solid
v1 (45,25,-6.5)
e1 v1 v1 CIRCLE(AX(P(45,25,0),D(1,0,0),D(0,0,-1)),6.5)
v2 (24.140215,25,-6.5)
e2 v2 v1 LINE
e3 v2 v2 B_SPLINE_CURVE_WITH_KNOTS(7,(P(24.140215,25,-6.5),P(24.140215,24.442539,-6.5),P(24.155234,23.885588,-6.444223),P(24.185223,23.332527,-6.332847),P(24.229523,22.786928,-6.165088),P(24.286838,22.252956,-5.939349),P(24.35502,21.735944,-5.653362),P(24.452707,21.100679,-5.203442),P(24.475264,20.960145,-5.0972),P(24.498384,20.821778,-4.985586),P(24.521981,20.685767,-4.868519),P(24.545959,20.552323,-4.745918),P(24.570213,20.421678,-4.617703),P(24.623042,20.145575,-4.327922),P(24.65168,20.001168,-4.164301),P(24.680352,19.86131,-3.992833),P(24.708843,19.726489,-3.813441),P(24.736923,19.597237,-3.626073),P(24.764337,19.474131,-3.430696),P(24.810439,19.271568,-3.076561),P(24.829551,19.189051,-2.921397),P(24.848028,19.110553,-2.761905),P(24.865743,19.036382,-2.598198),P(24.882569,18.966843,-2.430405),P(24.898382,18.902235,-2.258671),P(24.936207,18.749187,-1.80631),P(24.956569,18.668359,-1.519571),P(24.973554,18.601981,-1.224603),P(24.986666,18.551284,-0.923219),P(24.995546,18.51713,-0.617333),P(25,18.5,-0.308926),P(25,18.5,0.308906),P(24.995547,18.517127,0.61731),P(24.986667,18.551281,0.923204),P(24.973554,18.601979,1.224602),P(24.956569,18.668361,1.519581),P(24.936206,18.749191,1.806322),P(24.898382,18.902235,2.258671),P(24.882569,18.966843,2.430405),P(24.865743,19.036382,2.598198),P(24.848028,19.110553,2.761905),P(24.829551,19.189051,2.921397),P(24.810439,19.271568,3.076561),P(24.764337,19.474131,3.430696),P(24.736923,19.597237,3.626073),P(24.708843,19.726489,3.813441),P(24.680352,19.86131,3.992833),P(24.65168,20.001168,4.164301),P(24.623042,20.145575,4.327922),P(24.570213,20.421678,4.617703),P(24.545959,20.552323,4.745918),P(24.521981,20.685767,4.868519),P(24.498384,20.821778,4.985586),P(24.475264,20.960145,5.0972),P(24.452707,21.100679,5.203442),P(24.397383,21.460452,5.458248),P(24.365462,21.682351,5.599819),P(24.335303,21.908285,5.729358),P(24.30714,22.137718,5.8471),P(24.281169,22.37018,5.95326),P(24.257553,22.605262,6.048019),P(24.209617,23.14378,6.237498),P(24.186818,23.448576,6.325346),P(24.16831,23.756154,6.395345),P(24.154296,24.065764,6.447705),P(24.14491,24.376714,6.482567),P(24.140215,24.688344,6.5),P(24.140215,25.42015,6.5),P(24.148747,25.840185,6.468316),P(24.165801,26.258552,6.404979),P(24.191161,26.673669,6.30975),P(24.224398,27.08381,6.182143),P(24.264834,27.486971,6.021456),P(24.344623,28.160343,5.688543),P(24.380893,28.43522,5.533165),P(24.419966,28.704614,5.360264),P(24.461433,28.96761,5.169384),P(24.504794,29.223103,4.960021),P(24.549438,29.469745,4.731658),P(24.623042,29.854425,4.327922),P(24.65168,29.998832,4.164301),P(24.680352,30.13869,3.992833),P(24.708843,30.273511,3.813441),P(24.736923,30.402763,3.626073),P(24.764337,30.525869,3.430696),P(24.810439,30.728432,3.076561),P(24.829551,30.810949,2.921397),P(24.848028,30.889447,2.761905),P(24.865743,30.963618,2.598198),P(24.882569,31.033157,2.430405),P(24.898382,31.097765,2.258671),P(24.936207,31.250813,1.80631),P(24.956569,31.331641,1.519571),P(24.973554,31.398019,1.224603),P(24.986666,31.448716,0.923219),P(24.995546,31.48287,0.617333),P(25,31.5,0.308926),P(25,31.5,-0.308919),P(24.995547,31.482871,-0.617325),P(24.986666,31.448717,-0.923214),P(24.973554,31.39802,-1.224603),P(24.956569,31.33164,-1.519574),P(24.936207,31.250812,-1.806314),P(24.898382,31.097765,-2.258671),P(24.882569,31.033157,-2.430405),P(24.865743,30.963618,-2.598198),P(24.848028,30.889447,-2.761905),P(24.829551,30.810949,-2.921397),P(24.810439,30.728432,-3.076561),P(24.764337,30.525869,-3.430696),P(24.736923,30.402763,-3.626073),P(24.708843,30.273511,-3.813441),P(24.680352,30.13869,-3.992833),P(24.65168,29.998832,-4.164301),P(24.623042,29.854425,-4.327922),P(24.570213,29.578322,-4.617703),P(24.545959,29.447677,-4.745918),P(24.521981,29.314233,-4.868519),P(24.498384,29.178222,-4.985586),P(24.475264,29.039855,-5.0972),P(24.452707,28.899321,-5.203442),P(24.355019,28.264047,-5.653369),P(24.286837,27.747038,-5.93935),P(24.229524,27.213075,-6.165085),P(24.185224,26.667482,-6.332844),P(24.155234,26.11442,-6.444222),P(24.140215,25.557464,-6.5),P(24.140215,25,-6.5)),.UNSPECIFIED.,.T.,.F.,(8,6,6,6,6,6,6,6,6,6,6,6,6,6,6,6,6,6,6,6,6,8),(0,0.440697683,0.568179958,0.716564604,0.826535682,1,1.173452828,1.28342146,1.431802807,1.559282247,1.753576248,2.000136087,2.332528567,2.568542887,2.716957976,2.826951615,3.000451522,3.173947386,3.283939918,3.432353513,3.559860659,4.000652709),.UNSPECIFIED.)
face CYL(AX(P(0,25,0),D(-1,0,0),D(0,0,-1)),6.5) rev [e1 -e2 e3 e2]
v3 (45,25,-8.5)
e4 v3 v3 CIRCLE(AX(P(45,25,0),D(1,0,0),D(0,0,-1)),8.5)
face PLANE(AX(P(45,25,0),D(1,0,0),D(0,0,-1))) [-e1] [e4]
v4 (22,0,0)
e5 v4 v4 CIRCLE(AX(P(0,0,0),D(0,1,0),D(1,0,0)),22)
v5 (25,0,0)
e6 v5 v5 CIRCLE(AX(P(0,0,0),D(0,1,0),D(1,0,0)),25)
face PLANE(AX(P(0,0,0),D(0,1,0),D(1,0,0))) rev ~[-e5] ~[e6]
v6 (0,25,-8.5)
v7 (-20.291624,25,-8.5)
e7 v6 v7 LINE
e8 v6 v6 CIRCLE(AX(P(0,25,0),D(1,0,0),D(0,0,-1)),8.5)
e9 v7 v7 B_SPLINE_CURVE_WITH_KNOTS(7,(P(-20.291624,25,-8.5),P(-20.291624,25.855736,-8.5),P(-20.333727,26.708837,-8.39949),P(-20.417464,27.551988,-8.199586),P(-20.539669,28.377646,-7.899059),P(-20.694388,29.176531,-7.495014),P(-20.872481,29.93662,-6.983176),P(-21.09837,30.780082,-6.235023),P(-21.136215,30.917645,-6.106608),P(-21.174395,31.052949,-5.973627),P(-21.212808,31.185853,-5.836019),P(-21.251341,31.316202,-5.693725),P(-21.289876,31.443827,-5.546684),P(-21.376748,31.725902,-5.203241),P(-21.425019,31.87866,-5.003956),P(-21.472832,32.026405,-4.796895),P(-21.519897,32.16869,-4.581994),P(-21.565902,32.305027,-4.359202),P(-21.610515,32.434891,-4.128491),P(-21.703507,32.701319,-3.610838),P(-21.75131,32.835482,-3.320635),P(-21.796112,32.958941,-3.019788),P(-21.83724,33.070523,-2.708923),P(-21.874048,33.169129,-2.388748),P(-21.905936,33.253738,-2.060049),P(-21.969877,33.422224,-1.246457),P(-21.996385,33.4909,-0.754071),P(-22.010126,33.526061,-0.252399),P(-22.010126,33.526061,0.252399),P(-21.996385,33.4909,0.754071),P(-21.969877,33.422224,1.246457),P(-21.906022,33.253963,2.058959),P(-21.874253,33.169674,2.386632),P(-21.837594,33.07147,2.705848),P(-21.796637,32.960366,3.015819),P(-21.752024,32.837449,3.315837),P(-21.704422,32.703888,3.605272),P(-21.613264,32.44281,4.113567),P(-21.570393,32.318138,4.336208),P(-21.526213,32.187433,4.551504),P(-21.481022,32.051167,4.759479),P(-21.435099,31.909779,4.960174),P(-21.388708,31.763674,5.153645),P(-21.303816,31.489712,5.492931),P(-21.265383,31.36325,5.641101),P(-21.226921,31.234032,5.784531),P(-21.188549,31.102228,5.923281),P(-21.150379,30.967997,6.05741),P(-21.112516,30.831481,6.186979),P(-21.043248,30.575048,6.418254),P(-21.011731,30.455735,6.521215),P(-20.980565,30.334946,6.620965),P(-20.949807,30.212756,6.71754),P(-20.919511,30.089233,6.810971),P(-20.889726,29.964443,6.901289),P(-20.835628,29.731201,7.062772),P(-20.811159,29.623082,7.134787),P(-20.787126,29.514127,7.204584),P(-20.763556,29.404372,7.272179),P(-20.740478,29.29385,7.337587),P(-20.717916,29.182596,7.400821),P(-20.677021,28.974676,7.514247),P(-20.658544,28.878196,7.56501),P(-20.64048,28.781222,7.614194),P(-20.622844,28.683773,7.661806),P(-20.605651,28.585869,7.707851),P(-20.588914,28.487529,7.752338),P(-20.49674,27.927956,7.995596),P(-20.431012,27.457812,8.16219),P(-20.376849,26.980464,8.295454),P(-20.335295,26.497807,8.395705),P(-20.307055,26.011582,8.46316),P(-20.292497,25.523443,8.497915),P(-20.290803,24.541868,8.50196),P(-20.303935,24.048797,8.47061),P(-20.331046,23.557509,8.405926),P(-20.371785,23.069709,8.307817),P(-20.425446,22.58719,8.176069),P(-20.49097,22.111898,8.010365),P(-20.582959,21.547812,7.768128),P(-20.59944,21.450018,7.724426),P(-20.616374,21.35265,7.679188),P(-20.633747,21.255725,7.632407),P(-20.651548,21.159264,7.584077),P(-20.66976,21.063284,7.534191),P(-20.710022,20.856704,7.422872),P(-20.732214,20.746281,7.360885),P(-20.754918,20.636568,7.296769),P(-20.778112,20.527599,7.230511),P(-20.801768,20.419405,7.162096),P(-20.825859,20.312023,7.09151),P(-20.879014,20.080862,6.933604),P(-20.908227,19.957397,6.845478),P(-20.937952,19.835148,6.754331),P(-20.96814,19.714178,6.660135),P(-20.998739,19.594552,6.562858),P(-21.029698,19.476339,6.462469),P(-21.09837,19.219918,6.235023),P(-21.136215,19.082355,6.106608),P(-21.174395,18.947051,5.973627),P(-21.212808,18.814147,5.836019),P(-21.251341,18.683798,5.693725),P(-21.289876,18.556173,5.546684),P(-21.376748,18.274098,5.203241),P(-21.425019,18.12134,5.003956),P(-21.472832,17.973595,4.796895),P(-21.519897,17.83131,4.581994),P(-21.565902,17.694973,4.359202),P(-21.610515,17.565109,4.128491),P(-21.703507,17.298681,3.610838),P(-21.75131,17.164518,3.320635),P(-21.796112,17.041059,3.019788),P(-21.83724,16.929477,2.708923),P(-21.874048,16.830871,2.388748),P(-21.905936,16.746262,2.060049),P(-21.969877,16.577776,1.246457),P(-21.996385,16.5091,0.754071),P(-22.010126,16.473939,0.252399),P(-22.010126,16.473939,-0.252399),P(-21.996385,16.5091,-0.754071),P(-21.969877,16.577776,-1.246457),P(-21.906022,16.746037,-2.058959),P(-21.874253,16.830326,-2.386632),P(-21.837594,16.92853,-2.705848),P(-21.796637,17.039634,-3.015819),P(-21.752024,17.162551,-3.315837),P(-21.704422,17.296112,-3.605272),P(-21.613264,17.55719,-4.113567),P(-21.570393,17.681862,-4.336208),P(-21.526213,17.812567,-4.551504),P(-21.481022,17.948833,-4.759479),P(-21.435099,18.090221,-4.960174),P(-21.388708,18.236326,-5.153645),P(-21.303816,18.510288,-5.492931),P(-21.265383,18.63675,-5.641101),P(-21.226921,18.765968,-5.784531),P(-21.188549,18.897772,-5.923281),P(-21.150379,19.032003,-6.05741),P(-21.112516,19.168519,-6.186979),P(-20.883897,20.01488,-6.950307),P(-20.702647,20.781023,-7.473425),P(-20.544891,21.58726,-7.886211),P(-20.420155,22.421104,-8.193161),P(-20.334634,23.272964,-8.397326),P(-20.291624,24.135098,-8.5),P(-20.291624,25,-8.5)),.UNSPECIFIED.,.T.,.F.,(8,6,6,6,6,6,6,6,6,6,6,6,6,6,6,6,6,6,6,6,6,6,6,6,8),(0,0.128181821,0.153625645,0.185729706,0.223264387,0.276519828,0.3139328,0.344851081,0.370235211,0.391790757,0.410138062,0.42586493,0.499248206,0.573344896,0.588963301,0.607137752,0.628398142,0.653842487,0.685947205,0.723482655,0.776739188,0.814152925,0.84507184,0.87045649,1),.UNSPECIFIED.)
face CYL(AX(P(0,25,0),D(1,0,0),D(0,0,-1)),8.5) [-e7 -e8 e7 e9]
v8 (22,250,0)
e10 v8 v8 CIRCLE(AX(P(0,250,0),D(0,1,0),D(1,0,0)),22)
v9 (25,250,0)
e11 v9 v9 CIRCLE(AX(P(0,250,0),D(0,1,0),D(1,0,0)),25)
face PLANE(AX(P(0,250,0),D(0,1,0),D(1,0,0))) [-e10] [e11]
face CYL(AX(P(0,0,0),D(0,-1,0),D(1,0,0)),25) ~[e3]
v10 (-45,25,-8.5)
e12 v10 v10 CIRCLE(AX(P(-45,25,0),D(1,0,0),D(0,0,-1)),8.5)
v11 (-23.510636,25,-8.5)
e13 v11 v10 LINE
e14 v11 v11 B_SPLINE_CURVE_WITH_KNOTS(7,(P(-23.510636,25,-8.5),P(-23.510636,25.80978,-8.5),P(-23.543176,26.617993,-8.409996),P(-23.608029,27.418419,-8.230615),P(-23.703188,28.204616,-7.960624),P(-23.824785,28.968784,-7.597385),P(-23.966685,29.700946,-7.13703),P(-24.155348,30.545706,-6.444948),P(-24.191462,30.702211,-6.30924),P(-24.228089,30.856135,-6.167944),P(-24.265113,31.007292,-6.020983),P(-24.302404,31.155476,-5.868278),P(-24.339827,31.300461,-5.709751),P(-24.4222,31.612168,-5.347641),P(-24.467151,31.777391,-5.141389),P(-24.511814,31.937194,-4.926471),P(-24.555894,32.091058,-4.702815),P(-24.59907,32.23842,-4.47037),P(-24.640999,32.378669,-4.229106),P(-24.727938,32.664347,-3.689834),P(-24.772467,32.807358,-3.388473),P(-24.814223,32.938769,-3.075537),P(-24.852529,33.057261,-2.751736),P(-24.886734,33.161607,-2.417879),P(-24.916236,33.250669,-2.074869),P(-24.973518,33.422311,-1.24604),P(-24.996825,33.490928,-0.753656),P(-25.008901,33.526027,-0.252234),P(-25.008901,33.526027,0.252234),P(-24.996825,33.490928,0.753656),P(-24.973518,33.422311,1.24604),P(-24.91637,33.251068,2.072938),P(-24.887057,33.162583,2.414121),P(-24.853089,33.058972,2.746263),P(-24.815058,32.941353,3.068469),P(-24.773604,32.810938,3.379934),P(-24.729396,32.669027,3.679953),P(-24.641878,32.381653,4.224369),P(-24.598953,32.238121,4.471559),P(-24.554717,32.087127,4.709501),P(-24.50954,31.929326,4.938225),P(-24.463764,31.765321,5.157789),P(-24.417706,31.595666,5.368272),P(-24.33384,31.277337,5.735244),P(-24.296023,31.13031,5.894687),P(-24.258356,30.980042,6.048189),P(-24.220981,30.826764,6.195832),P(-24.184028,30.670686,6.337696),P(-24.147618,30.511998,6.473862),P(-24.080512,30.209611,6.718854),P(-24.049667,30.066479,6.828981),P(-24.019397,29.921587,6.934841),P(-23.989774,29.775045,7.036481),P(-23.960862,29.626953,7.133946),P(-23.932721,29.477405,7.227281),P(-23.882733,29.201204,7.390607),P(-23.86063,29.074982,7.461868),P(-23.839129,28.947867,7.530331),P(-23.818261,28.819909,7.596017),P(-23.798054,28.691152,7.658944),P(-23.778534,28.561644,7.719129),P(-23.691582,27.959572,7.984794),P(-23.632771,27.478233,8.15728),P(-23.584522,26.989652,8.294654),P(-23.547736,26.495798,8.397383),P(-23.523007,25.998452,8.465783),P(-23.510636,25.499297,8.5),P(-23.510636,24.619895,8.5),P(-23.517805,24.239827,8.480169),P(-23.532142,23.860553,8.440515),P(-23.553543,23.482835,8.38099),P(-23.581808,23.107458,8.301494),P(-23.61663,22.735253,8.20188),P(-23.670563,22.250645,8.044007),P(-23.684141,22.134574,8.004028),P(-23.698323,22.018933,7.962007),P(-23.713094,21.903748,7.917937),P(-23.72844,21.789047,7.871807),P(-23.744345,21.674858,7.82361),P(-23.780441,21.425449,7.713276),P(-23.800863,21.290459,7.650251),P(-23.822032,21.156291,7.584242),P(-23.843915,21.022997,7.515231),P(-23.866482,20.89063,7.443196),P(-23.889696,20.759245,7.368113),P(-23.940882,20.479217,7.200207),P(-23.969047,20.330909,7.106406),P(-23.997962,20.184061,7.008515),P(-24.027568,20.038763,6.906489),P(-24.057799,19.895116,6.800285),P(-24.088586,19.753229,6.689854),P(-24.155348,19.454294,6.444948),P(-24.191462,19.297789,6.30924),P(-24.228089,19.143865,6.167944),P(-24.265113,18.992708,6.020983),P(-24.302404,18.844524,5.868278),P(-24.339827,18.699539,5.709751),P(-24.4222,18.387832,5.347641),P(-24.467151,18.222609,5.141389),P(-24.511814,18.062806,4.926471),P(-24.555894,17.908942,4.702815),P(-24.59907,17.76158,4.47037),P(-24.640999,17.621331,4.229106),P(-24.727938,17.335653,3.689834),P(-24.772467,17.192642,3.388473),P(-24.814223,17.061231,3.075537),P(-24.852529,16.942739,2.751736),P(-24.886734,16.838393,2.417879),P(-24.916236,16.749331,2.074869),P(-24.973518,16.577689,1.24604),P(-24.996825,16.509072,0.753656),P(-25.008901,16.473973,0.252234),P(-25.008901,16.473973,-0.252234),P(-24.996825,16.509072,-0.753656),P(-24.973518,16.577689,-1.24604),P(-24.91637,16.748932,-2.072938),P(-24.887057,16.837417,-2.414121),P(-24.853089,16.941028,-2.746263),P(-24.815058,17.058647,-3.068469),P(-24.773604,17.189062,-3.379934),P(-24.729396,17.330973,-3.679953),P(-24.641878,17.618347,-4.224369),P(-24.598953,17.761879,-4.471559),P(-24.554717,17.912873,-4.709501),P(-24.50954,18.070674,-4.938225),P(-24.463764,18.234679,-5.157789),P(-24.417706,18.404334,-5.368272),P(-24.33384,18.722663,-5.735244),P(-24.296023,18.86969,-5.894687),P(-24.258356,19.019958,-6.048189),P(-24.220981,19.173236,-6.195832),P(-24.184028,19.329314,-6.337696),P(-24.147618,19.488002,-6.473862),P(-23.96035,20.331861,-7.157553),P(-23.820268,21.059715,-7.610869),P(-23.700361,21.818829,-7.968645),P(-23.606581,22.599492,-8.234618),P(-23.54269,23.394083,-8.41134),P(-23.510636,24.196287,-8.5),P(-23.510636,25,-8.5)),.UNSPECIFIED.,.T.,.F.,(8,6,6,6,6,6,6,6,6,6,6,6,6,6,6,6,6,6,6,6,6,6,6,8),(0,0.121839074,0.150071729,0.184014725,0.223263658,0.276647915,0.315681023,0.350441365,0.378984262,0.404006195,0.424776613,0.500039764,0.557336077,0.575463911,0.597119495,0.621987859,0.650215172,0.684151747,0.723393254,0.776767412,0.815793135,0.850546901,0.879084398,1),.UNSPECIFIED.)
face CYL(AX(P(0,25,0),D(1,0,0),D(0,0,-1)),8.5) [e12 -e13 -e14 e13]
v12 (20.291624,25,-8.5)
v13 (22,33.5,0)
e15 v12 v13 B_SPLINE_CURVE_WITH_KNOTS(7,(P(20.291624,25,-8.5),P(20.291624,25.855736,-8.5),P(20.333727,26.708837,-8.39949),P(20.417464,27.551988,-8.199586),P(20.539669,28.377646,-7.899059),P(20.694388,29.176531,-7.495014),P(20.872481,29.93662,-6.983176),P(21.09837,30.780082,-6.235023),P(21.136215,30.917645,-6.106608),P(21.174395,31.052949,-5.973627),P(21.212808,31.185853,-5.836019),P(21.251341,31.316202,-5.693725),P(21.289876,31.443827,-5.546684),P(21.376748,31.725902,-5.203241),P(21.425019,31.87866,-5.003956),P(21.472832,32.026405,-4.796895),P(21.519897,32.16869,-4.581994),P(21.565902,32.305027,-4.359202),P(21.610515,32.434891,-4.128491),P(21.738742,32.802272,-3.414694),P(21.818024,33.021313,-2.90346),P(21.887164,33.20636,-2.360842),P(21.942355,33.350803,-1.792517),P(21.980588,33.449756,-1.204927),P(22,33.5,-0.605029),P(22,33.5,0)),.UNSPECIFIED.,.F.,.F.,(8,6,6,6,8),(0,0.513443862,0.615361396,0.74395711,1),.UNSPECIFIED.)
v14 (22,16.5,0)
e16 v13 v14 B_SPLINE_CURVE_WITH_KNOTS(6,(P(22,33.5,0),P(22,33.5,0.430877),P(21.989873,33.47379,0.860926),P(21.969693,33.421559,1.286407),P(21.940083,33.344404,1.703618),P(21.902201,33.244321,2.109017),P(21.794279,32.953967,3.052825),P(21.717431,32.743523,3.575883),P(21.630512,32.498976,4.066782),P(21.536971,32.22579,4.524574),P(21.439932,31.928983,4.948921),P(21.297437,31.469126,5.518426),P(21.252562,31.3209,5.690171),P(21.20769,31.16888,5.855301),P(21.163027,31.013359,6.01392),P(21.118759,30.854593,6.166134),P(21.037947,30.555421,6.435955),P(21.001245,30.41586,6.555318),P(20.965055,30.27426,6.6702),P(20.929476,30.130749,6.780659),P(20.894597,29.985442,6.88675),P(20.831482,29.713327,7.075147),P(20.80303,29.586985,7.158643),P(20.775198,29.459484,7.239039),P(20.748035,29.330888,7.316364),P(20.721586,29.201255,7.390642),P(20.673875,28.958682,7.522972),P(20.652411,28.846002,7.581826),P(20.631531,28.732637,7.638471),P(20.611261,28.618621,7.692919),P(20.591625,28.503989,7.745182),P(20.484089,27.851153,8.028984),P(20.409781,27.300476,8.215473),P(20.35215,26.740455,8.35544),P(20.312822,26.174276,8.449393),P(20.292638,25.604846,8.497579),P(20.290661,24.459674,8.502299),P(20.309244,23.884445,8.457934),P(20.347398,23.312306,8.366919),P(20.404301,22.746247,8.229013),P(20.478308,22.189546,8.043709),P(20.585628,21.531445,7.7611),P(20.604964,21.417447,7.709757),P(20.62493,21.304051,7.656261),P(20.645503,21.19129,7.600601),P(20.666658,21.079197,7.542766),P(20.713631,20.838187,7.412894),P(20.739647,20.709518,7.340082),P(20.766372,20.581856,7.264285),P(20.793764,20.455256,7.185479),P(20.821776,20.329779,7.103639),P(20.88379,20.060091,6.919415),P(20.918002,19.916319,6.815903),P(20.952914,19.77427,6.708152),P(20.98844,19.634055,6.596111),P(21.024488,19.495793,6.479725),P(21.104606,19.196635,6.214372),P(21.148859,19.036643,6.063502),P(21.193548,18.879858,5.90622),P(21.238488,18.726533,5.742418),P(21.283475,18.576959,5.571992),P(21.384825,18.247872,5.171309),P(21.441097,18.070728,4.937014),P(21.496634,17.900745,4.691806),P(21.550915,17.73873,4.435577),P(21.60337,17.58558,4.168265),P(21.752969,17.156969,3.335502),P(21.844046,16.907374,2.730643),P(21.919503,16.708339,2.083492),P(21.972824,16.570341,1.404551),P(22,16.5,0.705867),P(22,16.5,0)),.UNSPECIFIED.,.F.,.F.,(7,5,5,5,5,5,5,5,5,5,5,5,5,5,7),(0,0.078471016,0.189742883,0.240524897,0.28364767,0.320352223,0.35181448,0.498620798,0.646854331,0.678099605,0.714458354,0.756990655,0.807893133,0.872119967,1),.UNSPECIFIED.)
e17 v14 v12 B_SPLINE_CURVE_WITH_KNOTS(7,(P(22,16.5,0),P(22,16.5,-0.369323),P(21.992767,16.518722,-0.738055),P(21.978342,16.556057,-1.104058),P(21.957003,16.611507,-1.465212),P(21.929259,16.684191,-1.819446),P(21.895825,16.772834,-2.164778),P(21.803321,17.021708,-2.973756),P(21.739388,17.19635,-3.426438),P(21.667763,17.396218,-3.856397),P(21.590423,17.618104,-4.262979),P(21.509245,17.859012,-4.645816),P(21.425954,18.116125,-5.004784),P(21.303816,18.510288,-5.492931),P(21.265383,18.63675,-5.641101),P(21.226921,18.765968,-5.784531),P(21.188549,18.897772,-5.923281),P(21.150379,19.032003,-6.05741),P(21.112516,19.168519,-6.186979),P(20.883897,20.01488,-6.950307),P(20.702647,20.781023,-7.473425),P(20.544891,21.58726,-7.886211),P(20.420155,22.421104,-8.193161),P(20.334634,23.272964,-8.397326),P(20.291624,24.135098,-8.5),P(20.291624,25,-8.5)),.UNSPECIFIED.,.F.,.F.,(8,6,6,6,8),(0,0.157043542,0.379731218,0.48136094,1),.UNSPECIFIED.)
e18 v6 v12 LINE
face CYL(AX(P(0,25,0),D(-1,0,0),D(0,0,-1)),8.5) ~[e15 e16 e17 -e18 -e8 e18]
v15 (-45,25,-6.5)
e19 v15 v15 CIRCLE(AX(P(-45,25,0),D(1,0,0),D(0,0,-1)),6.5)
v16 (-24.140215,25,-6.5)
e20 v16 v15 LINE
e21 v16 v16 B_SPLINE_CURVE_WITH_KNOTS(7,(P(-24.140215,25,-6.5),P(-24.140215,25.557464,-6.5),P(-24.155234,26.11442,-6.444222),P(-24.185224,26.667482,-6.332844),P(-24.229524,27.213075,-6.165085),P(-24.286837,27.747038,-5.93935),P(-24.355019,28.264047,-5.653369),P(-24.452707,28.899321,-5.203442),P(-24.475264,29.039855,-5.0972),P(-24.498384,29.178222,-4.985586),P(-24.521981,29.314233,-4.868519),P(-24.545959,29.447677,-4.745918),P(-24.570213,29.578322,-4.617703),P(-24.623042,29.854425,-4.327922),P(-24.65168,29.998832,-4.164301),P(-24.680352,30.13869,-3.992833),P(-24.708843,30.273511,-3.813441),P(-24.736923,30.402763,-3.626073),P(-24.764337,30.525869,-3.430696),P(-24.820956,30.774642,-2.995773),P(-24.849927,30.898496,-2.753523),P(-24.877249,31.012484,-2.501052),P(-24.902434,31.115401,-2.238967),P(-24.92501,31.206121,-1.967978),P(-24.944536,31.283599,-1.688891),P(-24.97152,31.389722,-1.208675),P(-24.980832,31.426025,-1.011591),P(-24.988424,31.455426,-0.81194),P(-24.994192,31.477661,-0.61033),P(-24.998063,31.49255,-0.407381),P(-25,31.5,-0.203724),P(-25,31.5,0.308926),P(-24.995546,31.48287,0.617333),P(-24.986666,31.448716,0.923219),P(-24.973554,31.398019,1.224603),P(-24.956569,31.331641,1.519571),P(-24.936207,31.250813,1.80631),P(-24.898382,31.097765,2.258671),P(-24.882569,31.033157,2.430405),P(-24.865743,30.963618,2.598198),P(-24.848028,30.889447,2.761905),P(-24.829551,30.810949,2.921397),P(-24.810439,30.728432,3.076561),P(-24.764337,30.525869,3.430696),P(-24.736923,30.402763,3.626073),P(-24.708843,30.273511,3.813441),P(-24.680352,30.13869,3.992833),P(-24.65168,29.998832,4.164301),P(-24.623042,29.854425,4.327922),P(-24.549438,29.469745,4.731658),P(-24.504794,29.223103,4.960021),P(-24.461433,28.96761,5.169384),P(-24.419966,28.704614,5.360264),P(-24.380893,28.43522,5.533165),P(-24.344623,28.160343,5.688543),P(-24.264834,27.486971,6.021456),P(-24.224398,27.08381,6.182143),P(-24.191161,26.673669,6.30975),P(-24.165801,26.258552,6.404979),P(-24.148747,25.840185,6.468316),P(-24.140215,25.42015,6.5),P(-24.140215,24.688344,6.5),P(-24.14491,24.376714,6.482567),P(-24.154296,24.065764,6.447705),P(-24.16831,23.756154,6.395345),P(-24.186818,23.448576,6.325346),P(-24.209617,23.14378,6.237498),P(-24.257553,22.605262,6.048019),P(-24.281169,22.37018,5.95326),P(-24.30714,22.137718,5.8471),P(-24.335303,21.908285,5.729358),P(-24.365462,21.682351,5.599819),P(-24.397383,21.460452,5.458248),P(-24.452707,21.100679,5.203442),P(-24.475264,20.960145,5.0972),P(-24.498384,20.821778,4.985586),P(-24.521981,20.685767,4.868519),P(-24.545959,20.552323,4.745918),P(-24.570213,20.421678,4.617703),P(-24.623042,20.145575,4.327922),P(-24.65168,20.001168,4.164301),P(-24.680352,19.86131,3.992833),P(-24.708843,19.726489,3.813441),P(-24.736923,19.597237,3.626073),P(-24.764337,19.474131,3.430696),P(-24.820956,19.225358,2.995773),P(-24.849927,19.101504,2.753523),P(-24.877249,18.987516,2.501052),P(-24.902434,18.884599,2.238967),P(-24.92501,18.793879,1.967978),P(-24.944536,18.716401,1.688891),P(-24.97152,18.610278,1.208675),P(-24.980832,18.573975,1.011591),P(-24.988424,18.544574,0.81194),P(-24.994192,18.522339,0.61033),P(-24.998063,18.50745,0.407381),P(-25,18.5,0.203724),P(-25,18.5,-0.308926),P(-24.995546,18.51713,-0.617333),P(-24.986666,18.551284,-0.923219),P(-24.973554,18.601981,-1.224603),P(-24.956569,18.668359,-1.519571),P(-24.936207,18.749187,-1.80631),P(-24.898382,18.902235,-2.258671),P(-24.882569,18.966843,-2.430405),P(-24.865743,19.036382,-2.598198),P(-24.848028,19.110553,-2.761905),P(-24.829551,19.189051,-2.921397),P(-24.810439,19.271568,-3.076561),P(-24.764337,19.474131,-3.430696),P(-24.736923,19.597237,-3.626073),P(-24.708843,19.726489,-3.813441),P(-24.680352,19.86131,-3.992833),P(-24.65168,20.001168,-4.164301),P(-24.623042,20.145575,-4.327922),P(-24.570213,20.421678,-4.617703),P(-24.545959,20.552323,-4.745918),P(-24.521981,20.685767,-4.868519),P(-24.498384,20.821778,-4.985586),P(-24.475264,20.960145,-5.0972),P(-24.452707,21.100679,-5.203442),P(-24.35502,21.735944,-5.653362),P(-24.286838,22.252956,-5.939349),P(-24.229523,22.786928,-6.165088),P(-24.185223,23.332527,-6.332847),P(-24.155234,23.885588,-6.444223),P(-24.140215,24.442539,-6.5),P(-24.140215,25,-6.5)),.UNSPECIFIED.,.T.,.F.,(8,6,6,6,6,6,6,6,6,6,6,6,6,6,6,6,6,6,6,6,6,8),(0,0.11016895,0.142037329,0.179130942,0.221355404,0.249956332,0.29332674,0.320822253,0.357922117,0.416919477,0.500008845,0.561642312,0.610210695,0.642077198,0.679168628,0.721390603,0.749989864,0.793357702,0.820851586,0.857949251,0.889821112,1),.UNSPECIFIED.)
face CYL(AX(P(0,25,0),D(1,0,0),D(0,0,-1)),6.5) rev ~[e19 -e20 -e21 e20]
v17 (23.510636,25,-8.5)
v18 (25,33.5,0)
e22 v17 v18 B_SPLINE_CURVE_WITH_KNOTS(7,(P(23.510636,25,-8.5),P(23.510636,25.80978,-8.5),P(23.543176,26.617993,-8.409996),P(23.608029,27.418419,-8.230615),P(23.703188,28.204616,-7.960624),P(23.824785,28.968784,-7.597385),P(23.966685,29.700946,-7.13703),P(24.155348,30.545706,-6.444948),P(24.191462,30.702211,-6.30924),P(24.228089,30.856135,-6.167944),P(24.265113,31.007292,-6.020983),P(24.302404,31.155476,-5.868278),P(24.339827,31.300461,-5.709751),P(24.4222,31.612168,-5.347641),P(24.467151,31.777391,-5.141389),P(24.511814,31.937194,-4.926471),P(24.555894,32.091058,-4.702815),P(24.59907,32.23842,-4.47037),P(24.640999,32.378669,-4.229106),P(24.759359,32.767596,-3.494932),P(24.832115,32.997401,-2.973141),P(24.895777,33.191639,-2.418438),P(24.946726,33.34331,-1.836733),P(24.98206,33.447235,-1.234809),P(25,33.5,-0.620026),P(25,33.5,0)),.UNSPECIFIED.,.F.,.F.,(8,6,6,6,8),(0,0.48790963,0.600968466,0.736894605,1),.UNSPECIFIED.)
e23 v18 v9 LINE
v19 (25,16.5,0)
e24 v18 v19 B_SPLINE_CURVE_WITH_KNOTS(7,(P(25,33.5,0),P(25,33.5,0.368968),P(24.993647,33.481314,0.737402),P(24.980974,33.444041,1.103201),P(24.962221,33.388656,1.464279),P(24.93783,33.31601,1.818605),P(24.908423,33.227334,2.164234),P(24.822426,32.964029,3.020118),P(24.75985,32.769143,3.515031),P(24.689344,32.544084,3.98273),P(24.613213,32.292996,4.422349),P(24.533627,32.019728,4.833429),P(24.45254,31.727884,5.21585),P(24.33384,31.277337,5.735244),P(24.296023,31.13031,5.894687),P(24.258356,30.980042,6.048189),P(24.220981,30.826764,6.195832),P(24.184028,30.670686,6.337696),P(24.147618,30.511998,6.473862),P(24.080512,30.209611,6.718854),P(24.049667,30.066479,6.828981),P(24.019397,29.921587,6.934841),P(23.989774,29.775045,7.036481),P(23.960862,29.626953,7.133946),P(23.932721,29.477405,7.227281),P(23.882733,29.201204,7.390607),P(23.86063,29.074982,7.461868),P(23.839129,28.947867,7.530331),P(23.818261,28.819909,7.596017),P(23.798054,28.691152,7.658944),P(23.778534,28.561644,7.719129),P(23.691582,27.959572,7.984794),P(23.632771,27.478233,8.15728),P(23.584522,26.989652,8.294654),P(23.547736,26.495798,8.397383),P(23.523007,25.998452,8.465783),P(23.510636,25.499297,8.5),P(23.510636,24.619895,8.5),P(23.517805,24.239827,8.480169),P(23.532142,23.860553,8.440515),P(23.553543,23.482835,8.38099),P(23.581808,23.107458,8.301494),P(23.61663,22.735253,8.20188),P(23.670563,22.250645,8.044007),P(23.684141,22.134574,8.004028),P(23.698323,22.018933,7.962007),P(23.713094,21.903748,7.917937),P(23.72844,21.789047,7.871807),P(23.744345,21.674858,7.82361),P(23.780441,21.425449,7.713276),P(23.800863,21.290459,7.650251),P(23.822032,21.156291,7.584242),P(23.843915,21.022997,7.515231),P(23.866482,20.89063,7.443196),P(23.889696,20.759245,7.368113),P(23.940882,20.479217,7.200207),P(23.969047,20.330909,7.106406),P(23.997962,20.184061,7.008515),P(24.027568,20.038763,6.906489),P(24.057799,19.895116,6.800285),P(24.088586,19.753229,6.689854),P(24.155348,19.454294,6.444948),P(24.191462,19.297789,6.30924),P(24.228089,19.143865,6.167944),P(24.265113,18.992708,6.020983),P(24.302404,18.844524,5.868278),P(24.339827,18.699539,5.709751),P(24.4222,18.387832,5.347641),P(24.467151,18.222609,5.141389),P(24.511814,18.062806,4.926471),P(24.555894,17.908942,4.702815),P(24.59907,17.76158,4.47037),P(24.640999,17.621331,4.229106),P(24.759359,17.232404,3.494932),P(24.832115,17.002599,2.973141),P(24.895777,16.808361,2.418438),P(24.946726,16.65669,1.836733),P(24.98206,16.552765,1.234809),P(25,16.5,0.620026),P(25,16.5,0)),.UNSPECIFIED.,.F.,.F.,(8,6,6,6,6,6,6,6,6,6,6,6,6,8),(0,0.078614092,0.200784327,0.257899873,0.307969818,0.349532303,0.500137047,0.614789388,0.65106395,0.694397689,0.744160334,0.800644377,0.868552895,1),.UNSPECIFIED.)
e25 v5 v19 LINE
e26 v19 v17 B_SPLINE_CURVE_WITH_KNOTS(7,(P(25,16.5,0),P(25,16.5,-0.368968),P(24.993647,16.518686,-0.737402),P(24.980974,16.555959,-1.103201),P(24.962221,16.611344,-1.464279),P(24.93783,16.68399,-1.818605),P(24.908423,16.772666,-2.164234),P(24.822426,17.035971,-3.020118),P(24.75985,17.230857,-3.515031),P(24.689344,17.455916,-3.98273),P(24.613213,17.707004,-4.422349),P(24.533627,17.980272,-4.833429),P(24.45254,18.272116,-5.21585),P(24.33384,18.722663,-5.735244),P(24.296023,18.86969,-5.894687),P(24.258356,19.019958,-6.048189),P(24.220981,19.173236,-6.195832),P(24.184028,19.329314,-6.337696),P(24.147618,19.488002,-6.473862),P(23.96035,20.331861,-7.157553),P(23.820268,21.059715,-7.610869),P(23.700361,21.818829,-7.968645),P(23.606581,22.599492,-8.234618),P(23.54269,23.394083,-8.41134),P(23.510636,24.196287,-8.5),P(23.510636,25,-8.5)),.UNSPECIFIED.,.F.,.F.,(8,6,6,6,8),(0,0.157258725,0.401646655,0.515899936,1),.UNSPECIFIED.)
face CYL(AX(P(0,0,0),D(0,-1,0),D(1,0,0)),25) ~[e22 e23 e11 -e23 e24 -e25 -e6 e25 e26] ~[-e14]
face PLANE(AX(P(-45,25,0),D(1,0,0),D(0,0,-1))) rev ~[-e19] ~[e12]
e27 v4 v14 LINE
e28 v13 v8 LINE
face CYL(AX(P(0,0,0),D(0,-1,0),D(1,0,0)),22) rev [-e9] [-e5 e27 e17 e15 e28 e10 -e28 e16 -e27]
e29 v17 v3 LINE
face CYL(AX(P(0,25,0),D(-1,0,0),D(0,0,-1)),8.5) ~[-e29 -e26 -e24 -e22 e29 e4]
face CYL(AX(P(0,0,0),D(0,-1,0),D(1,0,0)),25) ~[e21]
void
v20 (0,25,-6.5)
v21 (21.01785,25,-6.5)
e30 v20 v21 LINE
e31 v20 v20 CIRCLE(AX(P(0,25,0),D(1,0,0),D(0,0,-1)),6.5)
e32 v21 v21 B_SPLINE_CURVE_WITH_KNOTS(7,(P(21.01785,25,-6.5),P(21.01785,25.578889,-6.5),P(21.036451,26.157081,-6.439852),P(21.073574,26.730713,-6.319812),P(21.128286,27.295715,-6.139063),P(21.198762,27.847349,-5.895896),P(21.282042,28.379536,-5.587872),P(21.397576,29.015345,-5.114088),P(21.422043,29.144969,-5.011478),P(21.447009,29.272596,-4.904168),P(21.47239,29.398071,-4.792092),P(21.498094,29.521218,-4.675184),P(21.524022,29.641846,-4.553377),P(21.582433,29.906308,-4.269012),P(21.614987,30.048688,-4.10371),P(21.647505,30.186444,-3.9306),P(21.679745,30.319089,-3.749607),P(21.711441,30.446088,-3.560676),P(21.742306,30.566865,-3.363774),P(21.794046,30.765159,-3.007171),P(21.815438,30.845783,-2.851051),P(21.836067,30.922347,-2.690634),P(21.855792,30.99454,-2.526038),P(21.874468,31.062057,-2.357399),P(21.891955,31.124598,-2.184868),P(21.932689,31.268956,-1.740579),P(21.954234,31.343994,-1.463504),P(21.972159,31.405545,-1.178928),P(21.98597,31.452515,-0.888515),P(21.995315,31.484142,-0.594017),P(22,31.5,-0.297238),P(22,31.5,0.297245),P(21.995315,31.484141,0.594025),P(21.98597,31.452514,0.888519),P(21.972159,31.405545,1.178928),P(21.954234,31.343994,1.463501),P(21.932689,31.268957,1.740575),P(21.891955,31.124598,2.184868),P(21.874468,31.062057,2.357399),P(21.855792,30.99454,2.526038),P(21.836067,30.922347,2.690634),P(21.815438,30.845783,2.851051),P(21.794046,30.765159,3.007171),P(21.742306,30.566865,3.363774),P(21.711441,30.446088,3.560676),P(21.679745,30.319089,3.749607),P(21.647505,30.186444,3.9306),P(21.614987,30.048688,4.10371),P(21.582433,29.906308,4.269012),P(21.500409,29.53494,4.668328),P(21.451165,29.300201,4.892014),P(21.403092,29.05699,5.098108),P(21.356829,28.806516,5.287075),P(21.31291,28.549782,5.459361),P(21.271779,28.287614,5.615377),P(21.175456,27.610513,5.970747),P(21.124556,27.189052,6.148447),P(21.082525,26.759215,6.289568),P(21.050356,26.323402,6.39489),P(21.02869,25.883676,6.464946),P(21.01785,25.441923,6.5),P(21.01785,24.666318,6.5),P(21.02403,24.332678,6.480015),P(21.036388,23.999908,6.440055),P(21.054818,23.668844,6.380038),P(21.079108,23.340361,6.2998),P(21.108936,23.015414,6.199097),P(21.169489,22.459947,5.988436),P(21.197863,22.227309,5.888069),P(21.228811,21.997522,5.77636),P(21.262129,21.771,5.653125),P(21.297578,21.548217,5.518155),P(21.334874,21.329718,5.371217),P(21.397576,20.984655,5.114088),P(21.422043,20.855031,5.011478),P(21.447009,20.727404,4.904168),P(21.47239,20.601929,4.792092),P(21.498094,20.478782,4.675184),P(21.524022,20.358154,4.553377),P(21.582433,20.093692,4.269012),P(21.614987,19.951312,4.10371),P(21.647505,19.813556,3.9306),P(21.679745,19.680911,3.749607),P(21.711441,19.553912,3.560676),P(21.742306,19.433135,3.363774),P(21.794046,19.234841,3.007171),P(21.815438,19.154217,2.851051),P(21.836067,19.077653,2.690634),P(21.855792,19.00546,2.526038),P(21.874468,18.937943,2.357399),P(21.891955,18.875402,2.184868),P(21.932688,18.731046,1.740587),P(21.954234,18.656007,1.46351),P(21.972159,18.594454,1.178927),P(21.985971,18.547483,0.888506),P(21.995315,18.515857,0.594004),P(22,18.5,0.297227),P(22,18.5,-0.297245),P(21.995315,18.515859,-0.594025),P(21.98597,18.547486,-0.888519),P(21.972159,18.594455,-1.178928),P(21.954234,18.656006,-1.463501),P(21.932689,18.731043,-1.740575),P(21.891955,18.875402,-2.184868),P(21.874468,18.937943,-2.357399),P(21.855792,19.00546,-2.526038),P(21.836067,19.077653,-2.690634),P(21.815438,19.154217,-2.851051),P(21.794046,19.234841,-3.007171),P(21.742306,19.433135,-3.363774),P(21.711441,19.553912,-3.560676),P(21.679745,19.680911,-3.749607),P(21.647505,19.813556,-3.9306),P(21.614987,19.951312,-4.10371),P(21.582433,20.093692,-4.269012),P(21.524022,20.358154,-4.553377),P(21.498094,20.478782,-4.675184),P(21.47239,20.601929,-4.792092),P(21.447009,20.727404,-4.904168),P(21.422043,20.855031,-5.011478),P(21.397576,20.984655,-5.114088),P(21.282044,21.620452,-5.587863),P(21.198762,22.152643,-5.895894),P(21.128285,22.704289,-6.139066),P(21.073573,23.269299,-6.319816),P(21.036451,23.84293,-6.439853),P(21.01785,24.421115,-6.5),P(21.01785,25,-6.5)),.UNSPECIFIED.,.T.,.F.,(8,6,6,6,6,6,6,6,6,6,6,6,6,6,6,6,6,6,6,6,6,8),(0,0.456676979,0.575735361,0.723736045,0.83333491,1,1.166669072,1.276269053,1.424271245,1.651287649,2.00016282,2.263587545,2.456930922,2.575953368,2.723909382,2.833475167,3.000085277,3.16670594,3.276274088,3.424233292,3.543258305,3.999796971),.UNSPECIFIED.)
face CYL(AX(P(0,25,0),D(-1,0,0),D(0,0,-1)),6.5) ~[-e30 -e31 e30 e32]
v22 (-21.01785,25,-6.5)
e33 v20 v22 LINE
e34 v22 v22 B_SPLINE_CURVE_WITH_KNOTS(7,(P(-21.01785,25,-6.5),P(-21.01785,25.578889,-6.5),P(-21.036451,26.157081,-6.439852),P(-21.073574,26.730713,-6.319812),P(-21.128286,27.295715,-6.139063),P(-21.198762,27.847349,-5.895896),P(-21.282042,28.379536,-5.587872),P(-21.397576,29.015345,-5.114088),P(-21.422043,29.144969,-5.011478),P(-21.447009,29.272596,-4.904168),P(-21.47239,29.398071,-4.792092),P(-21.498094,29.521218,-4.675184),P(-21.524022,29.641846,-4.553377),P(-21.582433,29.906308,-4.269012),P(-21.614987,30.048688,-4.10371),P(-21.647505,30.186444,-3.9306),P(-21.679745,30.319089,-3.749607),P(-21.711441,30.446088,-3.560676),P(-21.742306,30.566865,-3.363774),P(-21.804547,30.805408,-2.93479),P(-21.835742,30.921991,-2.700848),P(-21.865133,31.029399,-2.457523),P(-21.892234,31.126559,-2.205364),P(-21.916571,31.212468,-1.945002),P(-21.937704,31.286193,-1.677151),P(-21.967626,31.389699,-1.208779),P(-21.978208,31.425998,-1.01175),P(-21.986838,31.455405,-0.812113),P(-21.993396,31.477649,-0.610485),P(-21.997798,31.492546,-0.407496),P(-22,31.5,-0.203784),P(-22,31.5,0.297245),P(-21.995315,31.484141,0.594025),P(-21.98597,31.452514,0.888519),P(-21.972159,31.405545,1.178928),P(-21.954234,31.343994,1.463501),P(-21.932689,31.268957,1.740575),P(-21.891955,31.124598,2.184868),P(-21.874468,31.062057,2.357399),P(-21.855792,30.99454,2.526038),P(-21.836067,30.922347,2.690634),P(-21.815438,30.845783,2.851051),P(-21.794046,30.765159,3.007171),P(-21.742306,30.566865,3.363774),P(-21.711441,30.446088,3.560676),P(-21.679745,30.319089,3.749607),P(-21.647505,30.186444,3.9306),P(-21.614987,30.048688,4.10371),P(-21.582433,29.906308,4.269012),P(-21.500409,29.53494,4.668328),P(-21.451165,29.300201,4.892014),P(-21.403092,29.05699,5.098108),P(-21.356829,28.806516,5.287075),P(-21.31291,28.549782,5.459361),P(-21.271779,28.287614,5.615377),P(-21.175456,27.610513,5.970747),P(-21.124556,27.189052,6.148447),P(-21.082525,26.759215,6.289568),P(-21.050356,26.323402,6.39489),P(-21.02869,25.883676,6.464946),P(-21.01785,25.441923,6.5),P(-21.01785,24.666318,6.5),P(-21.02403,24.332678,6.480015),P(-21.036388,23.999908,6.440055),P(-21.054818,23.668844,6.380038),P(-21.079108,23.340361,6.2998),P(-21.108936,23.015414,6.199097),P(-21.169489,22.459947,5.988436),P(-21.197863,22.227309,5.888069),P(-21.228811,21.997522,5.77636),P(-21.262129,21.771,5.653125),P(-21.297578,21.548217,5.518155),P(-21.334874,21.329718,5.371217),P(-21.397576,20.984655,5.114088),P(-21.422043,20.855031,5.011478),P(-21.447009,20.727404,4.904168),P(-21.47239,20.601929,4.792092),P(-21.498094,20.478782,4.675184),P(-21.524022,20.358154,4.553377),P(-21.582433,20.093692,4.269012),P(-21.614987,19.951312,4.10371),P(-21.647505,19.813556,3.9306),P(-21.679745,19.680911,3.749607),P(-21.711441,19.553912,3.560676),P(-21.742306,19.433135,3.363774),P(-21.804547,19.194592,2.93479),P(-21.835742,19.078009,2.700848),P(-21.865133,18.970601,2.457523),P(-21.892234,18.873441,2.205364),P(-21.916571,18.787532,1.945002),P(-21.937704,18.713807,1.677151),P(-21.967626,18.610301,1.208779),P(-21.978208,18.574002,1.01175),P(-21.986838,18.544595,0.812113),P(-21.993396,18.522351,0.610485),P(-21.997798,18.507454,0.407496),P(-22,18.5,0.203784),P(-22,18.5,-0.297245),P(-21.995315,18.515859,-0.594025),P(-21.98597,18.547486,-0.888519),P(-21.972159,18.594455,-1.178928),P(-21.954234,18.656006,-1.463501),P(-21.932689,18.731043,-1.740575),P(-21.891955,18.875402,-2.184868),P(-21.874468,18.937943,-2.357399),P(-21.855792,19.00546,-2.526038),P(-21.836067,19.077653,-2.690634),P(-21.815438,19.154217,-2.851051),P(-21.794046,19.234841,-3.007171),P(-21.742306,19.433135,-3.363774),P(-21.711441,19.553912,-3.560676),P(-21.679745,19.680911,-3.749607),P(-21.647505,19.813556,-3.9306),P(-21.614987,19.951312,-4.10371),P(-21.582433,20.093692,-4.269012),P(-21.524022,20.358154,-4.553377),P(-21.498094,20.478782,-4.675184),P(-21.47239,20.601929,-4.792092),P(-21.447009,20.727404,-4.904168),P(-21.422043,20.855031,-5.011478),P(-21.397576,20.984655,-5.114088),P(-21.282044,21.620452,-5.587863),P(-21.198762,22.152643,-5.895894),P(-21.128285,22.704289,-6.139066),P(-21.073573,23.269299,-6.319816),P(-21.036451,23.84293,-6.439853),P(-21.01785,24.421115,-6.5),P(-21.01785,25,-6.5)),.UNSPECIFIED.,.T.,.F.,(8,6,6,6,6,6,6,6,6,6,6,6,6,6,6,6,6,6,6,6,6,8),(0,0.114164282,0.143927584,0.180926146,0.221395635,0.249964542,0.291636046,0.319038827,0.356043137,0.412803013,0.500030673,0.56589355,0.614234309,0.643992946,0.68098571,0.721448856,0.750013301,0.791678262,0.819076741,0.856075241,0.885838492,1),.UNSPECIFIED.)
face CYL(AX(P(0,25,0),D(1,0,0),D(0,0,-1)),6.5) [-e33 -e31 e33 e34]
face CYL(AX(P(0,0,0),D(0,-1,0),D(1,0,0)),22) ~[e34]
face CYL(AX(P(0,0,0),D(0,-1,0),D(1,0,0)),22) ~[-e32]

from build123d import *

# Parameters (mm, degrees)
SKETCH2_R                = 25
SKETCH2_R_2              = 22
BOSS_EXTRUDE1_DEPTH      = 250
SKETCH3_R                = 8.5
SKETCH3_R_2              = 6.5
BOSS_EXTRUDE2_DEPTH      = 45
BOSS_EXTRUDE2_DEPTH_BACK = 45


with BuildPart() as part:
    # Sketch2 → Boss-Extrude1 (new body)
    with BuildSketch(Plane(origin=(0, 0, 0), x_dir=(1, 0, 0), z_dir=(0, 1, 0))):
        Circle(SKETCH2_R)
        Circle(SKETCH2_R_2, mode=Mode.SUBTRACT)
    extrude(amount=BOSS_EXTRUDE1_DEPTH)

    # Sketch3 → Boss-Extrude2 (add, two sides)
    with BuildSketch(Plane(origin=(0, 0, 0), x_dir=(0, 0, -1), z_dir=(1, 0, 0))) as boss_extrude2_sk:
        with Locations((0, 25)):
            Circle(SKETCH3_R)
        with Locations((0, 25)):
            Circle(SKETCH3_R_2, mode=Mode.SUBTRACT)
    extrude(amount=BOSS_EXTRUDE2_DEPTH)
    extrude(boss_extrude2_sk.sketch, amount=-BOSS_EXTRUDE2_DEPTH_BACK)


solid = part.part
